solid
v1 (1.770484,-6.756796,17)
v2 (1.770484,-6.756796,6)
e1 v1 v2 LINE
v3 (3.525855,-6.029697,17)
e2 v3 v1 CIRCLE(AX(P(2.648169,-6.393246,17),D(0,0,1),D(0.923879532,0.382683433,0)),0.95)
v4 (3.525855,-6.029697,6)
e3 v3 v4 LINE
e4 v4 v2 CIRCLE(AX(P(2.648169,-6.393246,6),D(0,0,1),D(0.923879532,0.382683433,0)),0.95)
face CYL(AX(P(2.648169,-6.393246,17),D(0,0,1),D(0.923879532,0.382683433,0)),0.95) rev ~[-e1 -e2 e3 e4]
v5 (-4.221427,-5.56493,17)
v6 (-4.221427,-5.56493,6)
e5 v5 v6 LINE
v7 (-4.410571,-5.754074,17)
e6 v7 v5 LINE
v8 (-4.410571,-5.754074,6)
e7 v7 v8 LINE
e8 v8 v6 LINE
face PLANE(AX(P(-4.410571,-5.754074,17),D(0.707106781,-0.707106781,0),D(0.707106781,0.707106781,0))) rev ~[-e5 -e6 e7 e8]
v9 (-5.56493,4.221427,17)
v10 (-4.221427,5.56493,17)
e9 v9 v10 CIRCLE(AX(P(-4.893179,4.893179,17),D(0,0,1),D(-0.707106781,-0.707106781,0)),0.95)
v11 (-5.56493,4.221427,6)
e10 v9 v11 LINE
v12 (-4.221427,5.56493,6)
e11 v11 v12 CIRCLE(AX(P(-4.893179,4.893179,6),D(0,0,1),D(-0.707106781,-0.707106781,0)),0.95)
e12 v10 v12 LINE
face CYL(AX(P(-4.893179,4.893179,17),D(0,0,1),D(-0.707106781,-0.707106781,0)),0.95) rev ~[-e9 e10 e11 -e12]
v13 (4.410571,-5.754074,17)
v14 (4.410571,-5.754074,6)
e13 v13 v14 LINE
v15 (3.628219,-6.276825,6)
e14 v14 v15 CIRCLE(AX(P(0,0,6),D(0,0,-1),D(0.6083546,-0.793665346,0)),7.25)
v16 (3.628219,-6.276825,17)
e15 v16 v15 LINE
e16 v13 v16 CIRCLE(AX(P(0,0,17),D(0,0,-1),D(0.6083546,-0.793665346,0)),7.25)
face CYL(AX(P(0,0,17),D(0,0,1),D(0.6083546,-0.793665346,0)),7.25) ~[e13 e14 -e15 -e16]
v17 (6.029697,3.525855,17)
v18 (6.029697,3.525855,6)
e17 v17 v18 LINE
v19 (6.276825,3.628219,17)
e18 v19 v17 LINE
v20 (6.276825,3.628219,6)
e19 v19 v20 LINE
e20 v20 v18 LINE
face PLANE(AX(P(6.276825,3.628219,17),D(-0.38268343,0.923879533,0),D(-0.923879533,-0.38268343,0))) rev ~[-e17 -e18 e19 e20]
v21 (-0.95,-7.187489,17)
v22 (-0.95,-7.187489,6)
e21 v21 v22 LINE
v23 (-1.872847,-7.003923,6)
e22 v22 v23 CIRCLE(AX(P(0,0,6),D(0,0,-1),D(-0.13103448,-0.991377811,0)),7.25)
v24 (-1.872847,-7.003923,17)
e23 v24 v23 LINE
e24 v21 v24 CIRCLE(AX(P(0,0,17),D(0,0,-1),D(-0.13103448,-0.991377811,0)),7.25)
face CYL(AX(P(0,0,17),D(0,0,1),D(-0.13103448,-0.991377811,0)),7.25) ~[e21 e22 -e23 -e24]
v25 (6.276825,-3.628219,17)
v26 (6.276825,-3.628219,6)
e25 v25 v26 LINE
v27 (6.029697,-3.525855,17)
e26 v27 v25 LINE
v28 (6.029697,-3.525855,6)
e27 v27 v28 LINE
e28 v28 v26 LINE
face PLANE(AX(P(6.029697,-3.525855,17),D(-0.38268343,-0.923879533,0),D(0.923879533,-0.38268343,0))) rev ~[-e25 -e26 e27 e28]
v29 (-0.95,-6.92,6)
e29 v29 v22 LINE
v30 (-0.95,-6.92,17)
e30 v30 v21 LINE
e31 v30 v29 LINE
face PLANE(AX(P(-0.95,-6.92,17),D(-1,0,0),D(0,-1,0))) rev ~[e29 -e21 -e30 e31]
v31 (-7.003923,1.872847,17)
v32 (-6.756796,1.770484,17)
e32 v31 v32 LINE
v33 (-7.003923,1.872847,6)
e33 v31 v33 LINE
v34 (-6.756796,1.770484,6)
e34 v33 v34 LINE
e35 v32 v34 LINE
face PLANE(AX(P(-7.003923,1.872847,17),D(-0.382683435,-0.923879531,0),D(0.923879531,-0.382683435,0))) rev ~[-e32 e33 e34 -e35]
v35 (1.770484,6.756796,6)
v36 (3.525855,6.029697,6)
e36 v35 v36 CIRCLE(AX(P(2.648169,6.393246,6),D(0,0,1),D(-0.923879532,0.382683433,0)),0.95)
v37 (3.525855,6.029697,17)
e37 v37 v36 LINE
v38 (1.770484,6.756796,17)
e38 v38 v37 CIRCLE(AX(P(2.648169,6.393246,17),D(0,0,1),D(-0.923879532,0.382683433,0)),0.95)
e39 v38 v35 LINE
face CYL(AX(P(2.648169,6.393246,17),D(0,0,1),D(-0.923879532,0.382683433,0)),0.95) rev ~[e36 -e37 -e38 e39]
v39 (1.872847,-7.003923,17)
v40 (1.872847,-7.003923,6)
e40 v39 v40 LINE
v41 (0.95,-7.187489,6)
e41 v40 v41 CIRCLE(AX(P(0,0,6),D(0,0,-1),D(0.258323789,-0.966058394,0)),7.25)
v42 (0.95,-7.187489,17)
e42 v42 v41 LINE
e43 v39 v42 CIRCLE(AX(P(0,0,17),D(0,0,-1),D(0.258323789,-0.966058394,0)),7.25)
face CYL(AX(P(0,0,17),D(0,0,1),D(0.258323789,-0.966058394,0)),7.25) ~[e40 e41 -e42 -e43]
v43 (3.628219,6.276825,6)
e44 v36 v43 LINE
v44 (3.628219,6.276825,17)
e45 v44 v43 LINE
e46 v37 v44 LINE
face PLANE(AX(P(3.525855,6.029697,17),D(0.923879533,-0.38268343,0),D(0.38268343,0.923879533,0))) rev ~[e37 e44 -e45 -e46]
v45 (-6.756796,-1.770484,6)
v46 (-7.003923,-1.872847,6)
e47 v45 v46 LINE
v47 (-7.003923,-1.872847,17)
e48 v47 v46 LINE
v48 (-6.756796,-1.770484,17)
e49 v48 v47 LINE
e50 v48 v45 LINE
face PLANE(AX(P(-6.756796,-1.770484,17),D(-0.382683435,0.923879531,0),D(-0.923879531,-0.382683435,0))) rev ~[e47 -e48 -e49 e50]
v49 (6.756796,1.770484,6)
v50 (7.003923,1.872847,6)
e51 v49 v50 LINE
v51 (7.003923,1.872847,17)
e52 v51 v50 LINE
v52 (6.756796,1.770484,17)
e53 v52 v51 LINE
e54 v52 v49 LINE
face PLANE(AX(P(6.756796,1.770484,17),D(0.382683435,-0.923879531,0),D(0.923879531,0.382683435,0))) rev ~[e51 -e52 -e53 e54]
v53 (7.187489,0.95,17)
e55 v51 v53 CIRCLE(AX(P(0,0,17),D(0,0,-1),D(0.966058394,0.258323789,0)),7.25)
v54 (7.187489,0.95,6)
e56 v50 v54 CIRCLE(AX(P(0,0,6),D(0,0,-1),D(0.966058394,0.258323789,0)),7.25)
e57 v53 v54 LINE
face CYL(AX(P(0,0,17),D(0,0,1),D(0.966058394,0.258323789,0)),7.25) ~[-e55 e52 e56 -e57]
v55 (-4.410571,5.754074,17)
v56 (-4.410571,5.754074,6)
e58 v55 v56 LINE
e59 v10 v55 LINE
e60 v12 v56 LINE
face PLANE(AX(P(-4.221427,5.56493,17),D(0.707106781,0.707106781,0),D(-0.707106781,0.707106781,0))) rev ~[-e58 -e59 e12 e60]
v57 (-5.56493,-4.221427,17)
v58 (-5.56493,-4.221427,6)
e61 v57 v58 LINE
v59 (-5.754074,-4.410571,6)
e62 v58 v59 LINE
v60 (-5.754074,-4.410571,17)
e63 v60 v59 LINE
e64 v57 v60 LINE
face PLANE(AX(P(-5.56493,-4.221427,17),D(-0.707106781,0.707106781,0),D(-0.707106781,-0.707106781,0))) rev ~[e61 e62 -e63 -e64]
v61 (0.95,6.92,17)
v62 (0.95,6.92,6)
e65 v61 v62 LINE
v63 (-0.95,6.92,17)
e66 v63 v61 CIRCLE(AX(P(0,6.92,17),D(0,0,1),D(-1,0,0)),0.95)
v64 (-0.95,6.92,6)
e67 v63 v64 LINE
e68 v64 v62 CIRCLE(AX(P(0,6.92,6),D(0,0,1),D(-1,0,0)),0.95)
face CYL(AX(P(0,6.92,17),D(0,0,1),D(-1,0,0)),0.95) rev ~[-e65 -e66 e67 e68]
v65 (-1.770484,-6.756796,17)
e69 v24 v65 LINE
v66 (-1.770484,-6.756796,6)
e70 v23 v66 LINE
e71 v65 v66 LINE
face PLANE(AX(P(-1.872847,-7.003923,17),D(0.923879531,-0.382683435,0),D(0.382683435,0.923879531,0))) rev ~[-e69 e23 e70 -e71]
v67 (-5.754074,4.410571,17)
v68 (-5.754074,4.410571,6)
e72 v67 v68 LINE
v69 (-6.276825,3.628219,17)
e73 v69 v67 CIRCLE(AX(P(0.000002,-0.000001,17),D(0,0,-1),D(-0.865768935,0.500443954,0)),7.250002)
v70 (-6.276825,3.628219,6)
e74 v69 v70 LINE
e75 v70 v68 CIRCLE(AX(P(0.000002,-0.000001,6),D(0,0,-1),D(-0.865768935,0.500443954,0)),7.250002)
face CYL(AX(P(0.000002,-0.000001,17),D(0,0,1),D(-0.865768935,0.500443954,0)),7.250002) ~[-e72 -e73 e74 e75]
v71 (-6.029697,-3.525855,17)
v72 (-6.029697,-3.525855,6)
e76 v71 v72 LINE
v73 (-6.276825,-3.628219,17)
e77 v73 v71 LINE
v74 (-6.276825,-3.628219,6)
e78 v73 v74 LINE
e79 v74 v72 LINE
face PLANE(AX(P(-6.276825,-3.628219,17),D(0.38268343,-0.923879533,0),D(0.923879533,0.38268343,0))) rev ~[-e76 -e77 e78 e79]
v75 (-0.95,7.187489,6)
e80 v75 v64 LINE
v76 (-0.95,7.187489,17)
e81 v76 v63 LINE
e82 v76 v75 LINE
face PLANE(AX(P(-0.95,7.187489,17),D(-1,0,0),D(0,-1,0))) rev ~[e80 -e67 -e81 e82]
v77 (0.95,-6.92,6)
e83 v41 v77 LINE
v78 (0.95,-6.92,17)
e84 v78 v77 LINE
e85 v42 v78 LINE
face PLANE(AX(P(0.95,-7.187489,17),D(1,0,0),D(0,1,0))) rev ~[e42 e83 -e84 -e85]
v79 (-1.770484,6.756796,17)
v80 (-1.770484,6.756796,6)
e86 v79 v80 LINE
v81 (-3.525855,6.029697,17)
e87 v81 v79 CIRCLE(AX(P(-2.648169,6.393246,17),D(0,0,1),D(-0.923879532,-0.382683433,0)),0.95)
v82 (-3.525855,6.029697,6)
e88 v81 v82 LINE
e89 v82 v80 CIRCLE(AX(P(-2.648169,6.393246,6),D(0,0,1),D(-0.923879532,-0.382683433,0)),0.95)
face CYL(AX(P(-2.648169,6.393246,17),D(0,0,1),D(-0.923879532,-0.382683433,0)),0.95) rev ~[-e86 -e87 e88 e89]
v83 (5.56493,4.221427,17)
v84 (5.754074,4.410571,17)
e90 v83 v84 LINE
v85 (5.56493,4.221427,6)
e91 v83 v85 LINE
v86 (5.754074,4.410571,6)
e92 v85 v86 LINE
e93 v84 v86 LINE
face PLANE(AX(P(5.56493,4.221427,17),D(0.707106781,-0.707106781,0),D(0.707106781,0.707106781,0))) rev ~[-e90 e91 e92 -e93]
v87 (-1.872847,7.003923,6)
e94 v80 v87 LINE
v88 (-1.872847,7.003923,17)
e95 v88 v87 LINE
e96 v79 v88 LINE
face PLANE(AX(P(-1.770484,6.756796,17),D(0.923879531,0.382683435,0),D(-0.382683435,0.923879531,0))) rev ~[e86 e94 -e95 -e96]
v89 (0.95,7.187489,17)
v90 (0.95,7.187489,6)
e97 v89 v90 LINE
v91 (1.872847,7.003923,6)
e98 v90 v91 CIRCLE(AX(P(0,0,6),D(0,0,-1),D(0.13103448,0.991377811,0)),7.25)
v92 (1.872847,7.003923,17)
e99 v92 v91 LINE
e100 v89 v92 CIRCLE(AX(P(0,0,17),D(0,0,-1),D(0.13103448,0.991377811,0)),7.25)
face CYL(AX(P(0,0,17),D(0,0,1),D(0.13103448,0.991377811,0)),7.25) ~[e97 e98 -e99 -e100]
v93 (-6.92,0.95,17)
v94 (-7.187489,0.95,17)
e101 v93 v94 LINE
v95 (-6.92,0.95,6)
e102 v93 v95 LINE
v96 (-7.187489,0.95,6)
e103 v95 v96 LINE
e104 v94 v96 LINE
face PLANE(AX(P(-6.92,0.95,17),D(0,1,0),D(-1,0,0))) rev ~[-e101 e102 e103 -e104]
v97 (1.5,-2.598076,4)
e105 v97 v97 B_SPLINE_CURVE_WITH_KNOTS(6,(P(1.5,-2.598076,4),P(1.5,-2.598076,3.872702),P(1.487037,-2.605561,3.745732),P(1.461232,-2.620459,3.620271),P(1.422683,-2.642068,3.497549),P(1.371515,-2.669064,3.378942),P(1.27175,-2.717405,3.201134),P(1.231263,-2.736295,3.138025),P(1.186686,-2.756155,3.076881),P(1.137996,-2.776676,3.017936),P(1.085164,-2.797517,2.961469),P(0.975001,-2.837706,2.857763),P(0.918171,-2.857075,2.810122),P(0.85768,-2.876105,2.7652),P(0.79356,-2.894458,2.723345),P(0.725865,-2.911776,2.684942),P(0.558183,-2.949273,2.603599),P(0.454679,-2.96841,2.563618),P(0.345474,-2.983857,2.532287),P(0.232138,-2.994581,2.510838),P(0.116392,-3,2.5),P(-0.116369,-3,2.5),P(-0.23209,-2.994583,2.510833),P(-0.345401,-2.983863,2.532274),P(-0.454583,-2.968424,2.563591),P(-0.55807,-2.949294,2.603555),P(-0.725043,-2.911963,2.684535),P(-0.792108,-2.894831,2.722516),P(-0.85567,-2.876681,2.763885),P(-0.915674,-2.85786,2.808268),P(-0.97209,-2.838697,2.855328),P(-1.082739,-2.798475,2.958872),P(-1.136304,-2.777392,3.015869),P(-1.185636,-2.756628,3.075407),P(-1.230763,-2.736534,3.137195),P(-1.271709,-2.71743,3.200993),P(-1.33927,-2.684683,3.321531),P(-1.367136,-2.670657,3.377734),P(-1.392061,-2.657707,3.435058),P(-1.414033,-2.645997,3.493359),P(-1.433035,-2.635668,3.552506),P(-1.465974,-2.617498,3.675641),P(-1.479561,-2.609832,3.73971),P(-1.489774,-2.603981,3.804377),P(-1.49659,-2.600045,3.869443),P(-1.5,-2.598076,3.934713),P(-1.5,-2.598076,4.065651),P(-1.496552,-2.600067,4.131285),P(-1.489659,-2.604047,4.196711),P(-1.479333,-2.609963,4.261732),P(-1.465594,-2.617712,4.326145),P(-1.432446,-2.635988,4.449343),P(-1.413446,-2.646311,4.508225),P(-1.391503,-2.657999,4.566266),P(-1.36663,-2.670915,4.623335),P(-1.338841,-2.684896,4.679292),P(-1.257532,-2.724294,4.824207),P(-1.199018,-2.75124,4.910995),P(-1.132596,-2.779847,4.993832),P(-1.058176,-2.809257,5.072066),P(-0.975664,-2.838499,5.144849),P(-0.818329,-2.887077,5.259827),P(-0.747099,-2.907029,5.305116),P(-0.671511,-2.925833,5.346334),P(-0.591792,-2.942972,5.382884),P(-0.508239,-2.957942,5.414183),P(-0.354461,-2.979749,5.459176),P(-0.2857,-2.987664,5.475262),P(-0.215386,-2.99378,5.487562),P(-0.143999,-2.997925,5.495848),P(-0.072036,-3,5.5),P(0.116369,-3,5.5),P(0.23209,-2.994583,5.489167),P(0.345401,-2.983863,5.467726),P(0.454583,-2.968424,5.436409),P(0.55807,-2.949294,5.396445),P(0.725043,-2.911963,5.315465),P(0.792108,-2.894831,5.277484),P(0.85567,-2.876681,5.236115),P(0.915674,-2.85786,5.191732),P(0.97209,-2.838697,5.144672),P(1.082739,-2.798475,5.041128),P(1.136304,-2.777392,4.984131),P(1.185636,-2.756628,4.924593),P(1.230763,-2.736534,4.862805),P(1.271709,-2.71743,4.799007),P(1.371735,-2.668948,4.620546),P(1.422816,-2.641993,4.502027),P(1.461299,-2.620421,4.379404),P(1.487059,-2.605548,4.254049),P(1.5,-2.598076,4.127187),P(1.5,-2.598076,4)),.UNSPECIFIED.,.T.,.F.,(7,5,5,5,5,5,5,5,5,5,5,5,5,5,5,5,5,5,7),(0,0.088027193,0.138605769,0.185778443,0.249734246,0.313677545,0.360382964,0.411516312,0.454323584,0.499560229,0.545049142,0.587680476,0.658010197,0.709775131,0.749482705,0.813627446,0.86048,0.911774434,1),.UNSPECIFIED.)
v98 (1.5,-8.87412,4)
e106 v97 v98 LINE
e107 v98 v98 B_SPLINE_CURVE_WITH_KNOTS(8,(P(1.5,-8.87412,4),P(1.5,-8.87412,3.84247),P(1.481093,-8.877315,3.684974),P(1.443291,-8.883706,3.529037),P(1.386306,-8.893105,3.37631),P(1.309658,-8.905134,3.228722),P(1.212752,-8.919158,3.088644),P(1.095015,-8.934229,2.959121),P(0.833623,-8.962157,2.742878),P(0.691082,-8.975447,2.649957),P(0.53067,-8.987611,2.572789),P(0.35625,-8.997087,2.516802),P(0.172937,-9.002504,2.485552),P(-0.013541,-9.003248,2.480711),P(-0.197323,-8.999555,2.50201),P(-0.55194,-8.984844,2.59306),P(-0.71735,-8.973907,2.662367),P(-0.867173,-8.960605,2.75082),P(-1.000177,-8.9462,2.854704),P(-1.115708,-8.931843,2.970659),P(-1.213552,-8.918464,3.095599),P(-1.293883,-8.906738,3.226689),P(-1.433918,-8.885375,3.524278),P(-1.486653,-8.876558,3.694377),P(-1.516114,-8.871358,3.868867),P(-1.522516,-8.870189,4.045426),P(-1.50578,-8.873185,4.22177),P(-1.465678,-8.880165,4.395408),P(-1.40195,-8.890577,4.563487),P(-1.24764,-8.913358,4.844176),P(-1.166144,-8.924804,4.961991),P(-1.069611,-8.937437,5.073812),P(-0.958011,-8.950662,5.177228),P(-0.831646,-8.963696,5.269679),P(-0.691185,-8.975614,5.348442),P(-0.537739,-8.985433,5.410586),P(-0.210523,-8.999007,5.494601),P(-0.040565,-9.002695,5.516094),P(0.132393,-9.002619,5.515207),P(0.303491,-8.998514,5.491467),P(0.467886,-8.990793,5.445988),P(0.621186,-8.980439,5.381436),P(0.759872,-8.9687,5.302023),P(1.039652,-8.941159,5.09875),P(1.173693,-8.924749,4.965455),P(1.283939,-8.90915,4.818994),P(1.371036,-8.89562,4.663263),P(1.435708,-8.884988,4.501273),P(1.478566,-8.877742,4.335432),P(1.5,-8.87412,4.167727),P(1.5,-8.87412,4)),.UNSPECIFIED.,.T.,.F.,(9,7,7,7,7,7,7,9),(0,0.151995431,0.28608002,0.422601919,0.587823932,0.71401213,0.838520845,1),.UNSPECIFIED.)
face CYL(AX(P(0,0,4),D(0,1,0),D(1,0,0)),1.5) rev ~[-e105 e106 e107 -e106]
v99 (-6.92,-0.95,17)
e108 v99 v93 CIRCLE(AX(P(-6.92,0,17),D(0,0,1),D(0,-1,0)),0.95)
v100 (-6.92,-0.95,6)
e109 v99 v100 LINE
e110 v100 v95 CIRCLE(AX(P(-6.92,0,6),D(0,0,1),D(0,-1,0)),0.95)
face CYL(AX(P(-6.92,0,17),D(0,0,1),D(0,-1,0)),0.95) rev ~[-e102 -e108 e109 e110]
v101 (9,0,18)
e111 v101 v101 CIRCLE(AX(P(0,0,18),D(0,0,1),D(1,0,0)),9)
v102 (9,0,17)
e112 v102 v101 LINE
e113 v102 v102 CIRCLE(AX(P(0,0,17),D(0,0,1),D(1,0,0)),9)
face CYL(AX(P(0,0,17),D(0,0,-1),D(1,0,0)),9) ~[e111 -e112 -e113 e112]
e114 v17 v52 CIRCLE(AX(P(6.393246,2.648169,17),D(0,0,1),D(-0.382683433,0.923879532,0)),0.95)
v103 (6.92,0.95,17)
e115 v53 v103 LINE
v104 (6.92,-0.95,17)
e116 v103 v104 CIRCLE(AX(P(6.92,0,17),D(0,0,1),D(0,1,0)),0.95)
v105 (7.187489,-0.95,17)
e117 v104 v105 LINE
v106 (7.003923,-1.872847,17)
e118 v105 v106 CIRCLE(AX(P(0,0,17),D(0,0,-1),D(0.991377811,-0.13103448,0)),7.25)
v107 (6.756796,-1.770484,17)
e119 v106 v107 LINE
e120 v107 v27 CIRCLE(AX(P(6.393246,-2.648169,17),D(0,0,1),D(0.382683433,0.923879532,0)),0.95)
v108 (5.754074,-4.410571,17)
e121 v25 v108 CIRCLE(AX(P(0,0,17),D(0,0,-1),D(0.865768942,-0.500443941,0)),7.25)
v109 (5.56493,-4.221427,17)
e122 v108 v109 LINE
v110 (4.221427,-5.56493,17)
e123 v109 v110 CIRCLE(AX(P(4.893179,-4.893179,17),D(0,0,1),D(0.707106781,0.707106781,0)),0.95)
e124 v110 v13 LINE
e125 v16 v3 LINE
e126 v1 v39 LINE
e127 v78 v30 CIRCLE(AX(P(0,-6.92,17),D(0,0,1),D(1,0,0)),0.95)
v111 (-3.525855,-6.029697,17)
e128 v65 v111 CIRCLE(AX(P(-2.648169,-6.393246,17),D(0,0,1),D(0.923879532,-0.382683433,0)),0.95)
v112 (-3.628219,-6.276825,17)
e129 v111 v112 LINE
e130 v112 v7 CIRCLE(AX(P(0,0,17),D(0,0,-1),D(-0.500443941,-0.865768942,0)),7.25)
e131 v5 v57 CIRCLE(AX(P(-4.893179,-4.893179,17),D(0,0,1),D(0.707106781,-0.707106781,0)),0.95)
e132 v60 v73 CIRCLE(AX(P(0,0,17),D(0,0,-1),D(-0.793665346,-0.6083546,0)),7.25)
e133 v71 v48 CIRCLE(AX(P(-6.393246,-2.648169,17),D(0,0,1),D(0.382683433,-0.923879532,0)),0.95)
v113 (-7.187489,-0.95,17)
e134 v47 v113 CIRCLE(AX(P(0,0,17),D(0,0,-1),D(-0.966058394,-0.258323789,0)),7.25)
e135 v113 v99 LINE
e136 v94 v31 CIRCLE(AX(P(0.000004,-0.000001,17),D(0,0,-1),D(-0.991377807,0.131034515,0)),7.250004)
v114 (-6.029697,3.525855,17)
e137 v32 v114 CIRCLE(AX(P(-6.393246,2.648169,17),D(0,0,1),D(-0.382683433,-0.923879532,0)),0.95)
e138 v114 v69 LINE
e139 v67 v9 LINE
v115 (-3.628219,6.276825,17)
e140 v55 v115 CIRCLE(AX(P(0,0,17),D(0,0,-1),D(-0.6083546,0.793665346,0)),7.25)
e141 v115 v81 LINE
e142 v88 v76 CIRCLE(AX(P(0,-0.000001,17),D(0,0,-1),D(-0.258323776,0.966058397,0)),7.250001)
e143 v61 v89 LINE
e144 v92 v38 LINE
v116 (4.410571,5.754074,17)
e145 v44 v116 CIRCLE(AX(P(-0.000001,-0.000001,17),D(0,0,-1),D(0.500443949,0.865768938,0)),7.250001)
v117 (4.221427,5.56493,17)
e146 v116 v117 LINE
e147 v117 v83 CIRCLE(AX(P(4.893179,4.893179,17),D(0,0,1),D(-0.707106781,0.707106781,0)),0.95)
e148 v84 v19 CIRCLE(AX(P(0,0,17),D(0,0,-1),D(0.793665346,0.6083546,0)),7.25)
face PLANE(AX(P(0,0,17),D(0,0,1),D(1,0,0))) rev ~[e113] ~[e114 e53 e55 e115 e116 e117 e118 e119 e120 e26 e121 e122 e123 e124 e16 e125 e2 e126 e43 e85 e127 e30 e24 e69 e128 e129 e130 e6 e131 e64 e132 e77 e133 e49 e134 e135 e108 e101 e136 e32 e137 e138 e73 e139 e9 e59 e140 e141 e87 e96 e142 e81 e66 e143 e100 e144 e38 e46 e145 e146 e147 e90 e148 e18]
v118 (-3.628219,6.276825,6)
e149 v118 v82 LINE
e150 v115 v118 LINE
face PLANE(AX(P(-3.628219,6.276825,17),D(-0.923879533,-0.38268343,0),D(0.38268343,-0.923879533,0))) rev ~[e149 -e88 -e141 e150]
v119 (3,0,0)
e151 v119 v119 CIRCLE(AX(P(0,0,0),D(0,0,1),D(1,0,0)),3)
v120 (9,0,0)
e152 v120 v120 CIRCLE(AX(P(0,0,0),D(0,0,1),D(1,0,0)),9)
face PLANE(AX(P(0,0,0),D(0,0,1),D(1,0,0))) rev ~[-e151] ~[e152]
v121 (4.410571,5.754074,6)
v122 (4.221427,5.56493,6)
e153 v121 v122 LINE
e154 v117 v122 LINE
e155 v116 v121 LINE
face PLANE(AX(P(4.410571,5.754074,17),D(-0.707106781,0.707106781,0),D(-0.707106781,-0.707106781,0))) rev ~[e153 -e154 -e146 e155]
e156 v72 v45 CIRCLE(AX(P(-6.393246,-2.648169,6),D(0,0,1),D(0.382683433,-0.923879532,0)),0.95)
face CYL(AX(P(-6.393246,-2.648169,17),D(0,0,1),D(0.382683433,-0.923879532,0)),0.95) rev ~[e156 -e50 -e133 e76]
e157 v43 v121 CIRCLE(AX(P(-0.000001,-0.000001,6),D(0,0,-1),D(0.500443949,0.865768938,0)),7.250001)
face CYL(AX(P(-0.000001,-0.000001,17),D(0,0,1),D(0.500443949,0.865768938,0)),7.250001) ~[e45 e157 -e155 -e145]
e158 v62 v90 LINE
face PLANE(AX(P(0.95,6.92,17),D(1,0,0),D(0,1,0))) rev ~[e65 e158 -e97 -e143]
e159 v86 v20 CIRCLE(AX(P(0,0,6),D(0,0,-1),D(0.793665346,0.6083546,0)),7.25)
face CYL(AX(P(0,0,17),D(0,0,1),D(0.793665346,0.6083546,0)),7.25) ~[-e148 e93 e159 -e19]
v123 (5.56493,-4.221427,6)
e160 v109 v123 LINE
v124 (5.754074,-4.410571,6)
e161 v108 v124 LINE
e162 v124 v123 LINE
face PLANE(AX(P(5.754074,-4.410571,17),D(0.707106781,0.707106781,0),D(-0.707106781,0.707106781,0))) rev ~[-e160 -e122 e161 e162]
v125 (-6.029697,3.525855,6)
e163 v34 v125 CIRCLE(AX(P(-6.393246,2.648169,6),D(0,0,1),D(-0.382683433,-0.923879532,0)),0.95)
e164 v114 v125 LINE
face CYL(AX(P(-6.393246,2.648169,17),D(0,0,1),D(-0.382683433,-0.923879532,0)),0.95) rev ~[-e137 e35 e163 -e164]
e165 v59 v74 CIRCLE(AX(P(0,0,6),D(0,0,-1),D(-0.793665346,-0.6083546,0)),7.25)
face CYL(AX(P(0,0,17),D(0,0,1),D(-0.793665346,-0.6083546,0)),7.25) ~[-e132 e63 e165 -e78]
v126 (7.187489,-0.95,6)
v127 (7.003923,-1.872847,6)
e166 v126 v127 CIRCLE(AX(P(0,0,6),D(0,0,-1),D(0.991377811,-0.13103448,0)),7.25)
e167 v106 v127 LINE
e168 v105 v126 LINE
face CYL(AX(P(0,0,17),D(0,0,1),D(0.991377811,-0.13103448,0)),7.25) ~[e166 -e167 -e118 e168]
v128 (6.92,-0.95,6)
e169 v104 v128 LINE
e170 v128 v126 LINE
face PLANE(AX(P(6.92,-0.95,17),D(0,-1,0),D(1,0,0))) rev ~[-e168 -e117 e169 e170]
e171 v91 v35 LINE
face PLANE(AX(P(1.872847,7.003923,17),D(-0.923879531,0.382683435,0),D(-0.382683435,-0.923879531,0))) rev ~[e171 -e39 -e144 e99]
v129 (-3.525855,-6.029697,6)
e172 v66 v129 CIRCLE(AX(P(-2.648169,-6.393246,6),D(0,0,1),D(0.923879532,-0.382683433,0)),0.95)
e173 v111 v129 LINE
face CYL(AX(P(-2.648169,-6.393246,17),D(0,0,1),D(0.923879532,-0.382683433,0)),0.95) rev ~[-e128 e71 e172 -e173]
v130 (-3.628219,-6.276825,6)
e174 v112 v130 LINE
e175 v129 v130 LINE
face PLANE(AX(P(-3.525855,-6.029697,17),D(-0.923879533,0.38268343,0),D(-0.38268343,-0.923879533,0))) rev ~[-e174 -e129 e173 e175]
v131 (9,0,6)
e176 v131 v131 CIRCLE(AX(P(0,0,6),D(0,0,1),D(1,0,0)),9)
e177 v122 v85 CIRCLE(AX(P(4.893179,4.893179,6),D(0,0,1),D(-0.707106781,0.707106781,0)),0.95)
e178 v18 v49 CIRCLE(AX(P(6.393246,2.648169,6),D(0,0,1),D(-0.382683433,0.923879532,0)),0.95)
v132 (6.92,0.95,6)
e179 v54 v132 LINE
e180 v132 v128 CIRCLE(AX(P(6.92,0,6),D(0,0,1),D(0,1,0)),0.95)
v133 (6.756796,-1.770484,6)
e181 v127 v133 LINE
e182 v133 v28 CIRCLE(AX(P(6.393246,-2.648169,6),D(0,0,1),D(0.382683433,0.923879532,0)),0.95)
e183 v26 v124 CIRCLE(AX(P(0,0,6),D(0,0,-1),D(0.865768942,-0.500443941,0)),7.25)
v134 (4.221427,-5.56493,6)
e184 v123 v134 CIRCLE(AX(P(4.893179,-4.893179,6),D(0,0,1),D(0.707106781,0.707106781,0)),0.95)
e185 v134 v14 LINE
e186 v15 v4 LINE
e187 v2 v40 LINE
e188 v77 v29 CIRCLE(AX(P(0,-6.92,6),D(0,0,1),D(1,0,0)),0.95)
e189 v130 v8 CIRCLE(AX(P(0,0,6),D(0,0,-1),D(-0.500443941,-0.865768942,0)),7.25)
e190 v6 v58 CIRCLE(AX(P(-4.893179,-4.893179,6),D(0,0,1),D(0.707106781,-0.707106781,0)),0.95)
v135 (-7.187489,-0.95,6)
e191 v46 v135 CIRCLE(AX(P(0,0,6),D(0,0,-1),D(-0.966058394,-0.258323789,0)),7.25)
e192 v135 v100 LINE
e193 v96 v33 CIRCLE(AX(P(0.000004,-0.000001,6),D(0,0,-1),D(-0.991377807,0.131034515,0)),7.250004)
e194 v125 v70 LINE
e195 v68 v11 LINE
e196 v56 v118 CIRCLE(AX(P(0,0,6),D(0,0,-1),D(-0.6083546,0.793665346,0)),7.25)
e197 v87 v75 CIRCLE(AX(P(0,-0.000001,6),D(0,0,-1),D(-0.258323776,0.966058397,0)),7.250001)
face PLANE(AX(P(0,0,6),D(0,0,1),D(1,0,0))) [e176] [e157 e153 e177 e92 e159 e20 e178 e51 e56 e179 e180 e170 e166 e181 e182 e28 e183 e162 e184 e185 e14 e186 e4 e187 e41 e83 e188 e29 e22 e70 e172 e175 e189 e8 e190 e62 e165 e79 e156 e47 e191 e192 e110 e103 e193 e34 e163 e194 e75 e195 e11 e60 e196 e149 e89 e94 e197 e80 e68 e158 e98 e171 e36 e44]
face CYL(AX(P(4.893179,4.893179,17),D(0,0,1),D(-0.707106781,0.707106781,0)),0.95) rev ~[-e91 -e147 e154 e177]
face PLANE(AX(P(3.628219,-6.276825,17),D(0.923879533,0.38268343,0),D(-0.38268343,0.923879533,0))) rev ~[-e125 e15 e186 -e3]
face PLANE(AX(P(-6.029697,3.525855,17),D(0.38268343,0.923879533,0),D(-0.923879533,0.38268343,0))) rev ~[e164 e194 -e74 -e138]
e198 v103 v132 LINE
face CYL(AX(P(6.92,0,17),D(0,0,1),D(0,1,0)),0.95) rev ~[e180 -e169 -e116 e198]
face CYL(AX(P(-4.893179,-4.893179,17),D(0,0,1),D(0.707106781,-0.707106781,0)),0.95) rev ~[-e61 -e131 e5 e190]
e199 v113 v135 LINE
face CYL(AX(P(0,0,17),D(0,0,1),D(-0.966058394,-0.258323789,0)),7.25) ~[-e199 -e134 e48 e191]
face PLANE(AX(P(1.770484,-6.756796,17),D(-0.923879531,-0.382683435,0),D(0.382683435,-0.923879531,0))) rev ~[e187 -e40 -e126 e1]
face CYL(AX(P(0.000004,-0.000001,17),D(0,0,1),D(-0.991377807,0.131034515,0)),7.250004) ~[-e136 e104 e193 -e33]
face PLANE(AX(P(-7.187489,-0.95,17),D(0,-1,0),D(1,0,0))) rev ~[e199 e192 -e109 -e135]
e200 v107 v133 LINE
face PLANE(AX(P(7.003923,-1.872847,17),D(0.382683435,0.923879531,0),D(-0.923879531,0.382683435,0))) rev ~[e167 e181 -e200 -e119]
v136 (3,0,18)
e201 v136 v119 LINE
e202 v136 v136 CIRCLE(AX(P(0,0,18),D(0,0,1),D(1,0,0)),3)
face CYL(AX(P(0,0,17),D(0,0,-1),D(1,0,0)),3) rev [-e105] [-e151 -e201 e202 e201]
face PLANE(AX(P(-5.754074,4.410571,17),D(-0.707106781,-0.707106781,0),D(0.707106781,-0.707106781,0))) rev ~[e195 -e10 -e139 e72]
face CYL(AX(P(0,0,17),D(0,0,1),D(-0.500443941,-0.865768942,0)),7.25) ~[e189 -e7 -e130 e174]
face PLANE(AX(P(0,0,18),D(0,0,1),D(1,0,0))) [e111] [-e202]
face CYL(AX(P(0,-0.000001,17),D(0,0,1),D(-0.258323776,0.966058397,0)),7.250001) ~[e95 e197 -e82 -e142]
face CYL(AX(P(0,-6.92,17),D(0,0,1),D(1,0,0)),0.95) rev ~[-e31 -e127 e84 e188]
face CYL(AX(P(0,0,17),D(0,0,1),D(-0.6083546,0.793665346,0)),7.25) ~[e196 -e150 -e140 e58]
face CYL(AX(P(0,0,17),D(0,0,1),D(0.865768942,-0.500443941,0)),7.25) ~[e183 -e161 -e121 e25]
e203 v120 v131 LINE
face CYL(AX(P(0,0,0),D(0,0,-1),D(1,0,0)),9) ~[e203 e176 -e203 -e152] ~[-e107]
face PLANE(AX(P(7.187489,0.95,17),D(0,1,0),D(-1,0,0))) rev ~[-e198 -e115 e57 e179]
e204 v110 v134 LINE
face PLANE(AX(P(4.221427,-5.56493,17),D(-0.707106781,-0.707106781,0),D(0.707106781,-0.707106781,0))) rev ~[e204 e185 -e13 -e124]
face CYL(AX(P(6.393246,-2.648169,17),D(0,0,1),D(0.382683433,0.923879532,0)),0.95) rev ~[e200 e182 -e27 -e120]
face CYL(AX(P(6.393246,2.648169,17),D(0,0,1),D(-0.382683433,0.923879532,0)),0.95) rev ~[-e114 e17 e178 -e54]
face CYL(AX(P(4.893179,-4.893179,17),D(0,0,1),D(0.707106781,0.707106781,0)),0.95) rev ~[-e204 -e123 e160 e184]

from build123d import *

# Parameters (mm, degrees)
SKETCH1_R           = 9
SKETCH1_R_2         = 3
BOSS_EXTRUDE1_DEPTH = 6
SKETCH2_R           = 7.25
SKETCH2_R_2         = 3
BOSS_EXTRUDE2_DEPTH = 11
SKETCH3_R           = 9
SKETCH3_R_2         = 3
BOSS_EXTRUDE3_DEPTH = 1
SKETCH4_R           = 1.5
CUT_EXTRUDE1_DEPTH  = 10
CUT_EXTRUDE4_START  = -1
SKETCH5_R           = 9
CUT_EXTRUDE4_DEPTH  = 11


with BuildPart() as part:
    # Sketch1 → Boss-Extrude1 (new body)
    with BuildSketch(Plane.XY):
        Circle(SKETCH1_R)
        Circle(SKETCH1_R_2, mode=Mode.SUBTRACT)
    extrude(amount=BOSS_EXTRUDE1_DEPTH)

    # Sketch2 → Boss-Extrude2 (add)
    with BuildSketch(Plane.XY.offset(6)):
        Circle(SKETCH2_R)
        Circle(SKETCH2_R_2, mode=Mode.SUBTRACT)
    extrude(amount=BOSS_EXTRUDE2_DEPTH)

    # Sketch3 → Boss-Extrude3 (add)
    with BuildSketch(Plane.XY.offset(17)):
        Circle(SKETCH3_R)
        Circle(SKETCH3_R_2, mode=Mode.SUBTRACT)
    extrude(amount=BOSS_EXTRUDE3_DEPTH)

    # Sketch4 → Cut-Extrude1 (cut, through all)
    with BuildSketch(Plane(origin=(0, 0, 0), x_dir=(1, 0, 0), z_dir=(0, 1, 0))):
        with Locations((0, -4)):
            Circle(SKETCH4_R)
    extrude(amount=-CUT_EXTRUDE1_DEPTH, mode=Mode.SUBTRACT)

    # Sketch5 → Cut-Extrude4 (cut)
    with BuildSketch(Plane.XY.offset(18).offset(CUT_EXTRUDE4_START)):
        Circle(SKETCH5_R)
        with BuildLine():
            Line((-0.95, 7.18748913), (-0.95, 6.92))
            ThreePointArc((-0.95, 6.92), (0, 5.97), (0.95, 6.92))
            Line((0.95, 6.92), (0.95, 7.18748913))
            ThreePointArc((0.95, 7.18748913), (1.414404835, 7.110693283), (1.872847455, 7.003923358))
            Line((1.872847455, 7.003923358), (1.770483796, 6.756795626))
            ThreePointArc((1.770483796, 6.756795626), (2.284620091, 5.515560809), (3.525854908, 6.029697104))
            Line((3.525854908, 6.029697104), (3.628218566, 6.276824837))
            ThreePointArc((3.628218566, 6.276824837), (4.027884188, 6.028154687), (4.410570862, 5.754073746))
            Line((4.410570862, 5.754073746), (4.221427484, 5.564930368))
            ThreePointArc((4.221427484, 5.564930368), (4.221427484, 4.221427484), (5.564930368, 4.221427484))
            Line((5.564930368, 4.221427484), (5.754073746, 4.410570862))
            ThreePointArc((5.754073746, 4.410570862), (6.028154689, 4.027884189), (6.276824837, 3.628218566))
            Line((6.276824837, 3.628218566), (6.029697104, 3.525854908))
            ThreePointArc((6.029697104, 3.525854908), (5.515560809, 2.284620091), (6.756795626, 1.770483796))
            Line((6.756795626, 1.770483796), (7.003923358, 1.872847455))
            ThreePointArc((7.003923358, 1.872847455), (7.110693283, 1.414404835), (7.18748913, 0.95))
            Line((7.18748913, 0.95), (6.92, 0.95))
            ThreePointArc((6.92, 0.95), (5.97, 0), (6.92, -0.95))
            Line((6.92, -0.95), (7.18748913, -0.95))
            ThreePointArc((7.18748913, -0.95), (7.110693283, -1.414404835), (7.003923358, -1.872847455))
            Line((7.003923358, -1.872847455), (6.756795626, -1.770483796))
            ThreePointArc((6.756795626, -1.770483796), (5.515560809, -2.284620091), (6.029697104, -3.525854908))
            Line((6.029697104, -3.525854908), (6.276824837, -3.628218566))
            ThreePointArc((6.276824837, -3.628218566), (6.028154689, -4.027884189), (5.754073746, -4.410570862))
            Line((5.754073746, -4.410570862), (5.564930368, -4.221427484))
            ThreePointArc((5.564930368, -4.221427484), (4.221427484, -4.221427484), (4.221427484, -5.564930368))
            Line((4.221427484, -5.564930368), (4.410570862, -5.754073746))
            ThreePointArc((4.410570862, -5.754073746), (4.027884189, -6.028154689), (3.628218566, -6.276824837))
            Line((3.628218566, -6.276824837), (3.525854908, -6.029697104))
            ThreePointArc((3.525854908, -6.029697104), (2.284620091, -5.515560809), (1.770483796, -6.756795626))
            Line((1.770483796, -6.756795626), (1.872847455, -7.003923358))
            ThreePointArc((1.872847455, -7.003923358), (1.414404835, -7.110693283), (0.95, -7.18748913))
            Line((0.95, -7.18748913), (0.95, -6.92))
            ThreePointArc((0.95, -6.92), (0, -5.97), (-0.95, -6.92))
            Line((-0.95, -6.92), (-0.95, -7.18748913))
            ThreePointArc((-0.95, -7.18748913), (-1.414404835, -7.110693283), (-1.872847455, -7.003923358))
            Line((-1.872847455, -7.003923358), (-1.770483796, -6.756795626))
            ThreePointArc((-1.770483796, -6.756795626), (-2.284620091, -5.515560809), (-3.525854908, -6.029697104))
            Line((-3.525854908, -6.029697104), (-3.628218566, -6.276824837))
            ThreePointArc((-3.628218566, -6.276824837), (-4.027884189, -6.028154689), (-4.410570862, -5.754073746))
            Line((-4.410570862, -5.754073746), (-4.221427484, -5.564930368))
            ThreePointArc((-4.221427484, -5.564930368), (-4.221427484, -4.221427484), (-5.564930368, -4.221427484))
            Line((-5.564930368, -4.221427484), (-5.754073746, -4.410570862))
            ThreePointArc((-5.754073746, -4.410570862), (-6.028154689, -4.027884189), (-6.276824837, -3.628218566))
            Line((-6.276824837, -3.628218566), (-6.029697104, -3.525854908))
            ThreePointArc((-6.029697104, -3.525854908), (-5.515560809, -2.284620091), (-6.756795626, -1.770483796))
            Line((-6.756795626, -1.770483796), (-7.003923358, -1.872847455))
            ThreePointArc((-7.003923358, -1.872847455), (-7.110693283, -1.414404835), (-7.18748913, -0.95))
            Line((-7.18748913, -0.95), (-6.92, -0.95))
            ThreePointArc((-6.92, -0.95), (-5.97, 0), (-6.92, 0.95))
            Line((-6.92, 0.95), (-7.18748913, 0.95))
            ThreePointArc((-7.18748913, 0.95), (-7.110693275, 1.414404833), (-7.003923358, 1.872847455))
            Line((-7.003923358, 1.872847455), (-6.756795626, 1.770483796))
            ThreePointArc((-6.756795626, 1.770483796), (-5.515560809, 2.284620091), (-6.029697104, 3.525854908))
            Line((-6.029697104, 3.525854908), (-6.276824837, 3.628218566))
            ThreePointArc((-6.276824837, 3.628218566), (-6.028154686, 4.027884187), (-5.754073746, 4.410570862))
            Line((-5.754073746, 4.410570862), (-5.564930368, 4.221427484))
            ThreePointArc((-5.564930368, 4.221427484), (-4.221427484, 4.221427484), (-4.221427484, 5.564930368))
            Line((-4.221427484, 5.564930368), (-4.410570862, 5.754073746))
            ThreePointArc((-4.410570862, 5.754073746), (-4.027884189, 6.028154689), (-3.628218566, 6.276824837))
            Line((-3.628218566, 6.276824837), (-3.525854908, 6.029697104))
            ThreePointArc((-3.525854908, 6.029697104), (-2.284620091, 5.515560809), (-1.770483796, 6.756795626))
            Line((-1.770483796, 6.756795626), (-1.872847455, 7.003923358))
            ThreePointArc((-1.872847455, 7.003923358), (-1.414404834, 7.11069328), (-0.95, 7.18748913))
        make_face(mode=Mode.SUBTRACT)
    extrude(amount=-CUT_EXTRUDE4_DEPTH, mode=Mode.SUBTRACT)


solid = part.part
